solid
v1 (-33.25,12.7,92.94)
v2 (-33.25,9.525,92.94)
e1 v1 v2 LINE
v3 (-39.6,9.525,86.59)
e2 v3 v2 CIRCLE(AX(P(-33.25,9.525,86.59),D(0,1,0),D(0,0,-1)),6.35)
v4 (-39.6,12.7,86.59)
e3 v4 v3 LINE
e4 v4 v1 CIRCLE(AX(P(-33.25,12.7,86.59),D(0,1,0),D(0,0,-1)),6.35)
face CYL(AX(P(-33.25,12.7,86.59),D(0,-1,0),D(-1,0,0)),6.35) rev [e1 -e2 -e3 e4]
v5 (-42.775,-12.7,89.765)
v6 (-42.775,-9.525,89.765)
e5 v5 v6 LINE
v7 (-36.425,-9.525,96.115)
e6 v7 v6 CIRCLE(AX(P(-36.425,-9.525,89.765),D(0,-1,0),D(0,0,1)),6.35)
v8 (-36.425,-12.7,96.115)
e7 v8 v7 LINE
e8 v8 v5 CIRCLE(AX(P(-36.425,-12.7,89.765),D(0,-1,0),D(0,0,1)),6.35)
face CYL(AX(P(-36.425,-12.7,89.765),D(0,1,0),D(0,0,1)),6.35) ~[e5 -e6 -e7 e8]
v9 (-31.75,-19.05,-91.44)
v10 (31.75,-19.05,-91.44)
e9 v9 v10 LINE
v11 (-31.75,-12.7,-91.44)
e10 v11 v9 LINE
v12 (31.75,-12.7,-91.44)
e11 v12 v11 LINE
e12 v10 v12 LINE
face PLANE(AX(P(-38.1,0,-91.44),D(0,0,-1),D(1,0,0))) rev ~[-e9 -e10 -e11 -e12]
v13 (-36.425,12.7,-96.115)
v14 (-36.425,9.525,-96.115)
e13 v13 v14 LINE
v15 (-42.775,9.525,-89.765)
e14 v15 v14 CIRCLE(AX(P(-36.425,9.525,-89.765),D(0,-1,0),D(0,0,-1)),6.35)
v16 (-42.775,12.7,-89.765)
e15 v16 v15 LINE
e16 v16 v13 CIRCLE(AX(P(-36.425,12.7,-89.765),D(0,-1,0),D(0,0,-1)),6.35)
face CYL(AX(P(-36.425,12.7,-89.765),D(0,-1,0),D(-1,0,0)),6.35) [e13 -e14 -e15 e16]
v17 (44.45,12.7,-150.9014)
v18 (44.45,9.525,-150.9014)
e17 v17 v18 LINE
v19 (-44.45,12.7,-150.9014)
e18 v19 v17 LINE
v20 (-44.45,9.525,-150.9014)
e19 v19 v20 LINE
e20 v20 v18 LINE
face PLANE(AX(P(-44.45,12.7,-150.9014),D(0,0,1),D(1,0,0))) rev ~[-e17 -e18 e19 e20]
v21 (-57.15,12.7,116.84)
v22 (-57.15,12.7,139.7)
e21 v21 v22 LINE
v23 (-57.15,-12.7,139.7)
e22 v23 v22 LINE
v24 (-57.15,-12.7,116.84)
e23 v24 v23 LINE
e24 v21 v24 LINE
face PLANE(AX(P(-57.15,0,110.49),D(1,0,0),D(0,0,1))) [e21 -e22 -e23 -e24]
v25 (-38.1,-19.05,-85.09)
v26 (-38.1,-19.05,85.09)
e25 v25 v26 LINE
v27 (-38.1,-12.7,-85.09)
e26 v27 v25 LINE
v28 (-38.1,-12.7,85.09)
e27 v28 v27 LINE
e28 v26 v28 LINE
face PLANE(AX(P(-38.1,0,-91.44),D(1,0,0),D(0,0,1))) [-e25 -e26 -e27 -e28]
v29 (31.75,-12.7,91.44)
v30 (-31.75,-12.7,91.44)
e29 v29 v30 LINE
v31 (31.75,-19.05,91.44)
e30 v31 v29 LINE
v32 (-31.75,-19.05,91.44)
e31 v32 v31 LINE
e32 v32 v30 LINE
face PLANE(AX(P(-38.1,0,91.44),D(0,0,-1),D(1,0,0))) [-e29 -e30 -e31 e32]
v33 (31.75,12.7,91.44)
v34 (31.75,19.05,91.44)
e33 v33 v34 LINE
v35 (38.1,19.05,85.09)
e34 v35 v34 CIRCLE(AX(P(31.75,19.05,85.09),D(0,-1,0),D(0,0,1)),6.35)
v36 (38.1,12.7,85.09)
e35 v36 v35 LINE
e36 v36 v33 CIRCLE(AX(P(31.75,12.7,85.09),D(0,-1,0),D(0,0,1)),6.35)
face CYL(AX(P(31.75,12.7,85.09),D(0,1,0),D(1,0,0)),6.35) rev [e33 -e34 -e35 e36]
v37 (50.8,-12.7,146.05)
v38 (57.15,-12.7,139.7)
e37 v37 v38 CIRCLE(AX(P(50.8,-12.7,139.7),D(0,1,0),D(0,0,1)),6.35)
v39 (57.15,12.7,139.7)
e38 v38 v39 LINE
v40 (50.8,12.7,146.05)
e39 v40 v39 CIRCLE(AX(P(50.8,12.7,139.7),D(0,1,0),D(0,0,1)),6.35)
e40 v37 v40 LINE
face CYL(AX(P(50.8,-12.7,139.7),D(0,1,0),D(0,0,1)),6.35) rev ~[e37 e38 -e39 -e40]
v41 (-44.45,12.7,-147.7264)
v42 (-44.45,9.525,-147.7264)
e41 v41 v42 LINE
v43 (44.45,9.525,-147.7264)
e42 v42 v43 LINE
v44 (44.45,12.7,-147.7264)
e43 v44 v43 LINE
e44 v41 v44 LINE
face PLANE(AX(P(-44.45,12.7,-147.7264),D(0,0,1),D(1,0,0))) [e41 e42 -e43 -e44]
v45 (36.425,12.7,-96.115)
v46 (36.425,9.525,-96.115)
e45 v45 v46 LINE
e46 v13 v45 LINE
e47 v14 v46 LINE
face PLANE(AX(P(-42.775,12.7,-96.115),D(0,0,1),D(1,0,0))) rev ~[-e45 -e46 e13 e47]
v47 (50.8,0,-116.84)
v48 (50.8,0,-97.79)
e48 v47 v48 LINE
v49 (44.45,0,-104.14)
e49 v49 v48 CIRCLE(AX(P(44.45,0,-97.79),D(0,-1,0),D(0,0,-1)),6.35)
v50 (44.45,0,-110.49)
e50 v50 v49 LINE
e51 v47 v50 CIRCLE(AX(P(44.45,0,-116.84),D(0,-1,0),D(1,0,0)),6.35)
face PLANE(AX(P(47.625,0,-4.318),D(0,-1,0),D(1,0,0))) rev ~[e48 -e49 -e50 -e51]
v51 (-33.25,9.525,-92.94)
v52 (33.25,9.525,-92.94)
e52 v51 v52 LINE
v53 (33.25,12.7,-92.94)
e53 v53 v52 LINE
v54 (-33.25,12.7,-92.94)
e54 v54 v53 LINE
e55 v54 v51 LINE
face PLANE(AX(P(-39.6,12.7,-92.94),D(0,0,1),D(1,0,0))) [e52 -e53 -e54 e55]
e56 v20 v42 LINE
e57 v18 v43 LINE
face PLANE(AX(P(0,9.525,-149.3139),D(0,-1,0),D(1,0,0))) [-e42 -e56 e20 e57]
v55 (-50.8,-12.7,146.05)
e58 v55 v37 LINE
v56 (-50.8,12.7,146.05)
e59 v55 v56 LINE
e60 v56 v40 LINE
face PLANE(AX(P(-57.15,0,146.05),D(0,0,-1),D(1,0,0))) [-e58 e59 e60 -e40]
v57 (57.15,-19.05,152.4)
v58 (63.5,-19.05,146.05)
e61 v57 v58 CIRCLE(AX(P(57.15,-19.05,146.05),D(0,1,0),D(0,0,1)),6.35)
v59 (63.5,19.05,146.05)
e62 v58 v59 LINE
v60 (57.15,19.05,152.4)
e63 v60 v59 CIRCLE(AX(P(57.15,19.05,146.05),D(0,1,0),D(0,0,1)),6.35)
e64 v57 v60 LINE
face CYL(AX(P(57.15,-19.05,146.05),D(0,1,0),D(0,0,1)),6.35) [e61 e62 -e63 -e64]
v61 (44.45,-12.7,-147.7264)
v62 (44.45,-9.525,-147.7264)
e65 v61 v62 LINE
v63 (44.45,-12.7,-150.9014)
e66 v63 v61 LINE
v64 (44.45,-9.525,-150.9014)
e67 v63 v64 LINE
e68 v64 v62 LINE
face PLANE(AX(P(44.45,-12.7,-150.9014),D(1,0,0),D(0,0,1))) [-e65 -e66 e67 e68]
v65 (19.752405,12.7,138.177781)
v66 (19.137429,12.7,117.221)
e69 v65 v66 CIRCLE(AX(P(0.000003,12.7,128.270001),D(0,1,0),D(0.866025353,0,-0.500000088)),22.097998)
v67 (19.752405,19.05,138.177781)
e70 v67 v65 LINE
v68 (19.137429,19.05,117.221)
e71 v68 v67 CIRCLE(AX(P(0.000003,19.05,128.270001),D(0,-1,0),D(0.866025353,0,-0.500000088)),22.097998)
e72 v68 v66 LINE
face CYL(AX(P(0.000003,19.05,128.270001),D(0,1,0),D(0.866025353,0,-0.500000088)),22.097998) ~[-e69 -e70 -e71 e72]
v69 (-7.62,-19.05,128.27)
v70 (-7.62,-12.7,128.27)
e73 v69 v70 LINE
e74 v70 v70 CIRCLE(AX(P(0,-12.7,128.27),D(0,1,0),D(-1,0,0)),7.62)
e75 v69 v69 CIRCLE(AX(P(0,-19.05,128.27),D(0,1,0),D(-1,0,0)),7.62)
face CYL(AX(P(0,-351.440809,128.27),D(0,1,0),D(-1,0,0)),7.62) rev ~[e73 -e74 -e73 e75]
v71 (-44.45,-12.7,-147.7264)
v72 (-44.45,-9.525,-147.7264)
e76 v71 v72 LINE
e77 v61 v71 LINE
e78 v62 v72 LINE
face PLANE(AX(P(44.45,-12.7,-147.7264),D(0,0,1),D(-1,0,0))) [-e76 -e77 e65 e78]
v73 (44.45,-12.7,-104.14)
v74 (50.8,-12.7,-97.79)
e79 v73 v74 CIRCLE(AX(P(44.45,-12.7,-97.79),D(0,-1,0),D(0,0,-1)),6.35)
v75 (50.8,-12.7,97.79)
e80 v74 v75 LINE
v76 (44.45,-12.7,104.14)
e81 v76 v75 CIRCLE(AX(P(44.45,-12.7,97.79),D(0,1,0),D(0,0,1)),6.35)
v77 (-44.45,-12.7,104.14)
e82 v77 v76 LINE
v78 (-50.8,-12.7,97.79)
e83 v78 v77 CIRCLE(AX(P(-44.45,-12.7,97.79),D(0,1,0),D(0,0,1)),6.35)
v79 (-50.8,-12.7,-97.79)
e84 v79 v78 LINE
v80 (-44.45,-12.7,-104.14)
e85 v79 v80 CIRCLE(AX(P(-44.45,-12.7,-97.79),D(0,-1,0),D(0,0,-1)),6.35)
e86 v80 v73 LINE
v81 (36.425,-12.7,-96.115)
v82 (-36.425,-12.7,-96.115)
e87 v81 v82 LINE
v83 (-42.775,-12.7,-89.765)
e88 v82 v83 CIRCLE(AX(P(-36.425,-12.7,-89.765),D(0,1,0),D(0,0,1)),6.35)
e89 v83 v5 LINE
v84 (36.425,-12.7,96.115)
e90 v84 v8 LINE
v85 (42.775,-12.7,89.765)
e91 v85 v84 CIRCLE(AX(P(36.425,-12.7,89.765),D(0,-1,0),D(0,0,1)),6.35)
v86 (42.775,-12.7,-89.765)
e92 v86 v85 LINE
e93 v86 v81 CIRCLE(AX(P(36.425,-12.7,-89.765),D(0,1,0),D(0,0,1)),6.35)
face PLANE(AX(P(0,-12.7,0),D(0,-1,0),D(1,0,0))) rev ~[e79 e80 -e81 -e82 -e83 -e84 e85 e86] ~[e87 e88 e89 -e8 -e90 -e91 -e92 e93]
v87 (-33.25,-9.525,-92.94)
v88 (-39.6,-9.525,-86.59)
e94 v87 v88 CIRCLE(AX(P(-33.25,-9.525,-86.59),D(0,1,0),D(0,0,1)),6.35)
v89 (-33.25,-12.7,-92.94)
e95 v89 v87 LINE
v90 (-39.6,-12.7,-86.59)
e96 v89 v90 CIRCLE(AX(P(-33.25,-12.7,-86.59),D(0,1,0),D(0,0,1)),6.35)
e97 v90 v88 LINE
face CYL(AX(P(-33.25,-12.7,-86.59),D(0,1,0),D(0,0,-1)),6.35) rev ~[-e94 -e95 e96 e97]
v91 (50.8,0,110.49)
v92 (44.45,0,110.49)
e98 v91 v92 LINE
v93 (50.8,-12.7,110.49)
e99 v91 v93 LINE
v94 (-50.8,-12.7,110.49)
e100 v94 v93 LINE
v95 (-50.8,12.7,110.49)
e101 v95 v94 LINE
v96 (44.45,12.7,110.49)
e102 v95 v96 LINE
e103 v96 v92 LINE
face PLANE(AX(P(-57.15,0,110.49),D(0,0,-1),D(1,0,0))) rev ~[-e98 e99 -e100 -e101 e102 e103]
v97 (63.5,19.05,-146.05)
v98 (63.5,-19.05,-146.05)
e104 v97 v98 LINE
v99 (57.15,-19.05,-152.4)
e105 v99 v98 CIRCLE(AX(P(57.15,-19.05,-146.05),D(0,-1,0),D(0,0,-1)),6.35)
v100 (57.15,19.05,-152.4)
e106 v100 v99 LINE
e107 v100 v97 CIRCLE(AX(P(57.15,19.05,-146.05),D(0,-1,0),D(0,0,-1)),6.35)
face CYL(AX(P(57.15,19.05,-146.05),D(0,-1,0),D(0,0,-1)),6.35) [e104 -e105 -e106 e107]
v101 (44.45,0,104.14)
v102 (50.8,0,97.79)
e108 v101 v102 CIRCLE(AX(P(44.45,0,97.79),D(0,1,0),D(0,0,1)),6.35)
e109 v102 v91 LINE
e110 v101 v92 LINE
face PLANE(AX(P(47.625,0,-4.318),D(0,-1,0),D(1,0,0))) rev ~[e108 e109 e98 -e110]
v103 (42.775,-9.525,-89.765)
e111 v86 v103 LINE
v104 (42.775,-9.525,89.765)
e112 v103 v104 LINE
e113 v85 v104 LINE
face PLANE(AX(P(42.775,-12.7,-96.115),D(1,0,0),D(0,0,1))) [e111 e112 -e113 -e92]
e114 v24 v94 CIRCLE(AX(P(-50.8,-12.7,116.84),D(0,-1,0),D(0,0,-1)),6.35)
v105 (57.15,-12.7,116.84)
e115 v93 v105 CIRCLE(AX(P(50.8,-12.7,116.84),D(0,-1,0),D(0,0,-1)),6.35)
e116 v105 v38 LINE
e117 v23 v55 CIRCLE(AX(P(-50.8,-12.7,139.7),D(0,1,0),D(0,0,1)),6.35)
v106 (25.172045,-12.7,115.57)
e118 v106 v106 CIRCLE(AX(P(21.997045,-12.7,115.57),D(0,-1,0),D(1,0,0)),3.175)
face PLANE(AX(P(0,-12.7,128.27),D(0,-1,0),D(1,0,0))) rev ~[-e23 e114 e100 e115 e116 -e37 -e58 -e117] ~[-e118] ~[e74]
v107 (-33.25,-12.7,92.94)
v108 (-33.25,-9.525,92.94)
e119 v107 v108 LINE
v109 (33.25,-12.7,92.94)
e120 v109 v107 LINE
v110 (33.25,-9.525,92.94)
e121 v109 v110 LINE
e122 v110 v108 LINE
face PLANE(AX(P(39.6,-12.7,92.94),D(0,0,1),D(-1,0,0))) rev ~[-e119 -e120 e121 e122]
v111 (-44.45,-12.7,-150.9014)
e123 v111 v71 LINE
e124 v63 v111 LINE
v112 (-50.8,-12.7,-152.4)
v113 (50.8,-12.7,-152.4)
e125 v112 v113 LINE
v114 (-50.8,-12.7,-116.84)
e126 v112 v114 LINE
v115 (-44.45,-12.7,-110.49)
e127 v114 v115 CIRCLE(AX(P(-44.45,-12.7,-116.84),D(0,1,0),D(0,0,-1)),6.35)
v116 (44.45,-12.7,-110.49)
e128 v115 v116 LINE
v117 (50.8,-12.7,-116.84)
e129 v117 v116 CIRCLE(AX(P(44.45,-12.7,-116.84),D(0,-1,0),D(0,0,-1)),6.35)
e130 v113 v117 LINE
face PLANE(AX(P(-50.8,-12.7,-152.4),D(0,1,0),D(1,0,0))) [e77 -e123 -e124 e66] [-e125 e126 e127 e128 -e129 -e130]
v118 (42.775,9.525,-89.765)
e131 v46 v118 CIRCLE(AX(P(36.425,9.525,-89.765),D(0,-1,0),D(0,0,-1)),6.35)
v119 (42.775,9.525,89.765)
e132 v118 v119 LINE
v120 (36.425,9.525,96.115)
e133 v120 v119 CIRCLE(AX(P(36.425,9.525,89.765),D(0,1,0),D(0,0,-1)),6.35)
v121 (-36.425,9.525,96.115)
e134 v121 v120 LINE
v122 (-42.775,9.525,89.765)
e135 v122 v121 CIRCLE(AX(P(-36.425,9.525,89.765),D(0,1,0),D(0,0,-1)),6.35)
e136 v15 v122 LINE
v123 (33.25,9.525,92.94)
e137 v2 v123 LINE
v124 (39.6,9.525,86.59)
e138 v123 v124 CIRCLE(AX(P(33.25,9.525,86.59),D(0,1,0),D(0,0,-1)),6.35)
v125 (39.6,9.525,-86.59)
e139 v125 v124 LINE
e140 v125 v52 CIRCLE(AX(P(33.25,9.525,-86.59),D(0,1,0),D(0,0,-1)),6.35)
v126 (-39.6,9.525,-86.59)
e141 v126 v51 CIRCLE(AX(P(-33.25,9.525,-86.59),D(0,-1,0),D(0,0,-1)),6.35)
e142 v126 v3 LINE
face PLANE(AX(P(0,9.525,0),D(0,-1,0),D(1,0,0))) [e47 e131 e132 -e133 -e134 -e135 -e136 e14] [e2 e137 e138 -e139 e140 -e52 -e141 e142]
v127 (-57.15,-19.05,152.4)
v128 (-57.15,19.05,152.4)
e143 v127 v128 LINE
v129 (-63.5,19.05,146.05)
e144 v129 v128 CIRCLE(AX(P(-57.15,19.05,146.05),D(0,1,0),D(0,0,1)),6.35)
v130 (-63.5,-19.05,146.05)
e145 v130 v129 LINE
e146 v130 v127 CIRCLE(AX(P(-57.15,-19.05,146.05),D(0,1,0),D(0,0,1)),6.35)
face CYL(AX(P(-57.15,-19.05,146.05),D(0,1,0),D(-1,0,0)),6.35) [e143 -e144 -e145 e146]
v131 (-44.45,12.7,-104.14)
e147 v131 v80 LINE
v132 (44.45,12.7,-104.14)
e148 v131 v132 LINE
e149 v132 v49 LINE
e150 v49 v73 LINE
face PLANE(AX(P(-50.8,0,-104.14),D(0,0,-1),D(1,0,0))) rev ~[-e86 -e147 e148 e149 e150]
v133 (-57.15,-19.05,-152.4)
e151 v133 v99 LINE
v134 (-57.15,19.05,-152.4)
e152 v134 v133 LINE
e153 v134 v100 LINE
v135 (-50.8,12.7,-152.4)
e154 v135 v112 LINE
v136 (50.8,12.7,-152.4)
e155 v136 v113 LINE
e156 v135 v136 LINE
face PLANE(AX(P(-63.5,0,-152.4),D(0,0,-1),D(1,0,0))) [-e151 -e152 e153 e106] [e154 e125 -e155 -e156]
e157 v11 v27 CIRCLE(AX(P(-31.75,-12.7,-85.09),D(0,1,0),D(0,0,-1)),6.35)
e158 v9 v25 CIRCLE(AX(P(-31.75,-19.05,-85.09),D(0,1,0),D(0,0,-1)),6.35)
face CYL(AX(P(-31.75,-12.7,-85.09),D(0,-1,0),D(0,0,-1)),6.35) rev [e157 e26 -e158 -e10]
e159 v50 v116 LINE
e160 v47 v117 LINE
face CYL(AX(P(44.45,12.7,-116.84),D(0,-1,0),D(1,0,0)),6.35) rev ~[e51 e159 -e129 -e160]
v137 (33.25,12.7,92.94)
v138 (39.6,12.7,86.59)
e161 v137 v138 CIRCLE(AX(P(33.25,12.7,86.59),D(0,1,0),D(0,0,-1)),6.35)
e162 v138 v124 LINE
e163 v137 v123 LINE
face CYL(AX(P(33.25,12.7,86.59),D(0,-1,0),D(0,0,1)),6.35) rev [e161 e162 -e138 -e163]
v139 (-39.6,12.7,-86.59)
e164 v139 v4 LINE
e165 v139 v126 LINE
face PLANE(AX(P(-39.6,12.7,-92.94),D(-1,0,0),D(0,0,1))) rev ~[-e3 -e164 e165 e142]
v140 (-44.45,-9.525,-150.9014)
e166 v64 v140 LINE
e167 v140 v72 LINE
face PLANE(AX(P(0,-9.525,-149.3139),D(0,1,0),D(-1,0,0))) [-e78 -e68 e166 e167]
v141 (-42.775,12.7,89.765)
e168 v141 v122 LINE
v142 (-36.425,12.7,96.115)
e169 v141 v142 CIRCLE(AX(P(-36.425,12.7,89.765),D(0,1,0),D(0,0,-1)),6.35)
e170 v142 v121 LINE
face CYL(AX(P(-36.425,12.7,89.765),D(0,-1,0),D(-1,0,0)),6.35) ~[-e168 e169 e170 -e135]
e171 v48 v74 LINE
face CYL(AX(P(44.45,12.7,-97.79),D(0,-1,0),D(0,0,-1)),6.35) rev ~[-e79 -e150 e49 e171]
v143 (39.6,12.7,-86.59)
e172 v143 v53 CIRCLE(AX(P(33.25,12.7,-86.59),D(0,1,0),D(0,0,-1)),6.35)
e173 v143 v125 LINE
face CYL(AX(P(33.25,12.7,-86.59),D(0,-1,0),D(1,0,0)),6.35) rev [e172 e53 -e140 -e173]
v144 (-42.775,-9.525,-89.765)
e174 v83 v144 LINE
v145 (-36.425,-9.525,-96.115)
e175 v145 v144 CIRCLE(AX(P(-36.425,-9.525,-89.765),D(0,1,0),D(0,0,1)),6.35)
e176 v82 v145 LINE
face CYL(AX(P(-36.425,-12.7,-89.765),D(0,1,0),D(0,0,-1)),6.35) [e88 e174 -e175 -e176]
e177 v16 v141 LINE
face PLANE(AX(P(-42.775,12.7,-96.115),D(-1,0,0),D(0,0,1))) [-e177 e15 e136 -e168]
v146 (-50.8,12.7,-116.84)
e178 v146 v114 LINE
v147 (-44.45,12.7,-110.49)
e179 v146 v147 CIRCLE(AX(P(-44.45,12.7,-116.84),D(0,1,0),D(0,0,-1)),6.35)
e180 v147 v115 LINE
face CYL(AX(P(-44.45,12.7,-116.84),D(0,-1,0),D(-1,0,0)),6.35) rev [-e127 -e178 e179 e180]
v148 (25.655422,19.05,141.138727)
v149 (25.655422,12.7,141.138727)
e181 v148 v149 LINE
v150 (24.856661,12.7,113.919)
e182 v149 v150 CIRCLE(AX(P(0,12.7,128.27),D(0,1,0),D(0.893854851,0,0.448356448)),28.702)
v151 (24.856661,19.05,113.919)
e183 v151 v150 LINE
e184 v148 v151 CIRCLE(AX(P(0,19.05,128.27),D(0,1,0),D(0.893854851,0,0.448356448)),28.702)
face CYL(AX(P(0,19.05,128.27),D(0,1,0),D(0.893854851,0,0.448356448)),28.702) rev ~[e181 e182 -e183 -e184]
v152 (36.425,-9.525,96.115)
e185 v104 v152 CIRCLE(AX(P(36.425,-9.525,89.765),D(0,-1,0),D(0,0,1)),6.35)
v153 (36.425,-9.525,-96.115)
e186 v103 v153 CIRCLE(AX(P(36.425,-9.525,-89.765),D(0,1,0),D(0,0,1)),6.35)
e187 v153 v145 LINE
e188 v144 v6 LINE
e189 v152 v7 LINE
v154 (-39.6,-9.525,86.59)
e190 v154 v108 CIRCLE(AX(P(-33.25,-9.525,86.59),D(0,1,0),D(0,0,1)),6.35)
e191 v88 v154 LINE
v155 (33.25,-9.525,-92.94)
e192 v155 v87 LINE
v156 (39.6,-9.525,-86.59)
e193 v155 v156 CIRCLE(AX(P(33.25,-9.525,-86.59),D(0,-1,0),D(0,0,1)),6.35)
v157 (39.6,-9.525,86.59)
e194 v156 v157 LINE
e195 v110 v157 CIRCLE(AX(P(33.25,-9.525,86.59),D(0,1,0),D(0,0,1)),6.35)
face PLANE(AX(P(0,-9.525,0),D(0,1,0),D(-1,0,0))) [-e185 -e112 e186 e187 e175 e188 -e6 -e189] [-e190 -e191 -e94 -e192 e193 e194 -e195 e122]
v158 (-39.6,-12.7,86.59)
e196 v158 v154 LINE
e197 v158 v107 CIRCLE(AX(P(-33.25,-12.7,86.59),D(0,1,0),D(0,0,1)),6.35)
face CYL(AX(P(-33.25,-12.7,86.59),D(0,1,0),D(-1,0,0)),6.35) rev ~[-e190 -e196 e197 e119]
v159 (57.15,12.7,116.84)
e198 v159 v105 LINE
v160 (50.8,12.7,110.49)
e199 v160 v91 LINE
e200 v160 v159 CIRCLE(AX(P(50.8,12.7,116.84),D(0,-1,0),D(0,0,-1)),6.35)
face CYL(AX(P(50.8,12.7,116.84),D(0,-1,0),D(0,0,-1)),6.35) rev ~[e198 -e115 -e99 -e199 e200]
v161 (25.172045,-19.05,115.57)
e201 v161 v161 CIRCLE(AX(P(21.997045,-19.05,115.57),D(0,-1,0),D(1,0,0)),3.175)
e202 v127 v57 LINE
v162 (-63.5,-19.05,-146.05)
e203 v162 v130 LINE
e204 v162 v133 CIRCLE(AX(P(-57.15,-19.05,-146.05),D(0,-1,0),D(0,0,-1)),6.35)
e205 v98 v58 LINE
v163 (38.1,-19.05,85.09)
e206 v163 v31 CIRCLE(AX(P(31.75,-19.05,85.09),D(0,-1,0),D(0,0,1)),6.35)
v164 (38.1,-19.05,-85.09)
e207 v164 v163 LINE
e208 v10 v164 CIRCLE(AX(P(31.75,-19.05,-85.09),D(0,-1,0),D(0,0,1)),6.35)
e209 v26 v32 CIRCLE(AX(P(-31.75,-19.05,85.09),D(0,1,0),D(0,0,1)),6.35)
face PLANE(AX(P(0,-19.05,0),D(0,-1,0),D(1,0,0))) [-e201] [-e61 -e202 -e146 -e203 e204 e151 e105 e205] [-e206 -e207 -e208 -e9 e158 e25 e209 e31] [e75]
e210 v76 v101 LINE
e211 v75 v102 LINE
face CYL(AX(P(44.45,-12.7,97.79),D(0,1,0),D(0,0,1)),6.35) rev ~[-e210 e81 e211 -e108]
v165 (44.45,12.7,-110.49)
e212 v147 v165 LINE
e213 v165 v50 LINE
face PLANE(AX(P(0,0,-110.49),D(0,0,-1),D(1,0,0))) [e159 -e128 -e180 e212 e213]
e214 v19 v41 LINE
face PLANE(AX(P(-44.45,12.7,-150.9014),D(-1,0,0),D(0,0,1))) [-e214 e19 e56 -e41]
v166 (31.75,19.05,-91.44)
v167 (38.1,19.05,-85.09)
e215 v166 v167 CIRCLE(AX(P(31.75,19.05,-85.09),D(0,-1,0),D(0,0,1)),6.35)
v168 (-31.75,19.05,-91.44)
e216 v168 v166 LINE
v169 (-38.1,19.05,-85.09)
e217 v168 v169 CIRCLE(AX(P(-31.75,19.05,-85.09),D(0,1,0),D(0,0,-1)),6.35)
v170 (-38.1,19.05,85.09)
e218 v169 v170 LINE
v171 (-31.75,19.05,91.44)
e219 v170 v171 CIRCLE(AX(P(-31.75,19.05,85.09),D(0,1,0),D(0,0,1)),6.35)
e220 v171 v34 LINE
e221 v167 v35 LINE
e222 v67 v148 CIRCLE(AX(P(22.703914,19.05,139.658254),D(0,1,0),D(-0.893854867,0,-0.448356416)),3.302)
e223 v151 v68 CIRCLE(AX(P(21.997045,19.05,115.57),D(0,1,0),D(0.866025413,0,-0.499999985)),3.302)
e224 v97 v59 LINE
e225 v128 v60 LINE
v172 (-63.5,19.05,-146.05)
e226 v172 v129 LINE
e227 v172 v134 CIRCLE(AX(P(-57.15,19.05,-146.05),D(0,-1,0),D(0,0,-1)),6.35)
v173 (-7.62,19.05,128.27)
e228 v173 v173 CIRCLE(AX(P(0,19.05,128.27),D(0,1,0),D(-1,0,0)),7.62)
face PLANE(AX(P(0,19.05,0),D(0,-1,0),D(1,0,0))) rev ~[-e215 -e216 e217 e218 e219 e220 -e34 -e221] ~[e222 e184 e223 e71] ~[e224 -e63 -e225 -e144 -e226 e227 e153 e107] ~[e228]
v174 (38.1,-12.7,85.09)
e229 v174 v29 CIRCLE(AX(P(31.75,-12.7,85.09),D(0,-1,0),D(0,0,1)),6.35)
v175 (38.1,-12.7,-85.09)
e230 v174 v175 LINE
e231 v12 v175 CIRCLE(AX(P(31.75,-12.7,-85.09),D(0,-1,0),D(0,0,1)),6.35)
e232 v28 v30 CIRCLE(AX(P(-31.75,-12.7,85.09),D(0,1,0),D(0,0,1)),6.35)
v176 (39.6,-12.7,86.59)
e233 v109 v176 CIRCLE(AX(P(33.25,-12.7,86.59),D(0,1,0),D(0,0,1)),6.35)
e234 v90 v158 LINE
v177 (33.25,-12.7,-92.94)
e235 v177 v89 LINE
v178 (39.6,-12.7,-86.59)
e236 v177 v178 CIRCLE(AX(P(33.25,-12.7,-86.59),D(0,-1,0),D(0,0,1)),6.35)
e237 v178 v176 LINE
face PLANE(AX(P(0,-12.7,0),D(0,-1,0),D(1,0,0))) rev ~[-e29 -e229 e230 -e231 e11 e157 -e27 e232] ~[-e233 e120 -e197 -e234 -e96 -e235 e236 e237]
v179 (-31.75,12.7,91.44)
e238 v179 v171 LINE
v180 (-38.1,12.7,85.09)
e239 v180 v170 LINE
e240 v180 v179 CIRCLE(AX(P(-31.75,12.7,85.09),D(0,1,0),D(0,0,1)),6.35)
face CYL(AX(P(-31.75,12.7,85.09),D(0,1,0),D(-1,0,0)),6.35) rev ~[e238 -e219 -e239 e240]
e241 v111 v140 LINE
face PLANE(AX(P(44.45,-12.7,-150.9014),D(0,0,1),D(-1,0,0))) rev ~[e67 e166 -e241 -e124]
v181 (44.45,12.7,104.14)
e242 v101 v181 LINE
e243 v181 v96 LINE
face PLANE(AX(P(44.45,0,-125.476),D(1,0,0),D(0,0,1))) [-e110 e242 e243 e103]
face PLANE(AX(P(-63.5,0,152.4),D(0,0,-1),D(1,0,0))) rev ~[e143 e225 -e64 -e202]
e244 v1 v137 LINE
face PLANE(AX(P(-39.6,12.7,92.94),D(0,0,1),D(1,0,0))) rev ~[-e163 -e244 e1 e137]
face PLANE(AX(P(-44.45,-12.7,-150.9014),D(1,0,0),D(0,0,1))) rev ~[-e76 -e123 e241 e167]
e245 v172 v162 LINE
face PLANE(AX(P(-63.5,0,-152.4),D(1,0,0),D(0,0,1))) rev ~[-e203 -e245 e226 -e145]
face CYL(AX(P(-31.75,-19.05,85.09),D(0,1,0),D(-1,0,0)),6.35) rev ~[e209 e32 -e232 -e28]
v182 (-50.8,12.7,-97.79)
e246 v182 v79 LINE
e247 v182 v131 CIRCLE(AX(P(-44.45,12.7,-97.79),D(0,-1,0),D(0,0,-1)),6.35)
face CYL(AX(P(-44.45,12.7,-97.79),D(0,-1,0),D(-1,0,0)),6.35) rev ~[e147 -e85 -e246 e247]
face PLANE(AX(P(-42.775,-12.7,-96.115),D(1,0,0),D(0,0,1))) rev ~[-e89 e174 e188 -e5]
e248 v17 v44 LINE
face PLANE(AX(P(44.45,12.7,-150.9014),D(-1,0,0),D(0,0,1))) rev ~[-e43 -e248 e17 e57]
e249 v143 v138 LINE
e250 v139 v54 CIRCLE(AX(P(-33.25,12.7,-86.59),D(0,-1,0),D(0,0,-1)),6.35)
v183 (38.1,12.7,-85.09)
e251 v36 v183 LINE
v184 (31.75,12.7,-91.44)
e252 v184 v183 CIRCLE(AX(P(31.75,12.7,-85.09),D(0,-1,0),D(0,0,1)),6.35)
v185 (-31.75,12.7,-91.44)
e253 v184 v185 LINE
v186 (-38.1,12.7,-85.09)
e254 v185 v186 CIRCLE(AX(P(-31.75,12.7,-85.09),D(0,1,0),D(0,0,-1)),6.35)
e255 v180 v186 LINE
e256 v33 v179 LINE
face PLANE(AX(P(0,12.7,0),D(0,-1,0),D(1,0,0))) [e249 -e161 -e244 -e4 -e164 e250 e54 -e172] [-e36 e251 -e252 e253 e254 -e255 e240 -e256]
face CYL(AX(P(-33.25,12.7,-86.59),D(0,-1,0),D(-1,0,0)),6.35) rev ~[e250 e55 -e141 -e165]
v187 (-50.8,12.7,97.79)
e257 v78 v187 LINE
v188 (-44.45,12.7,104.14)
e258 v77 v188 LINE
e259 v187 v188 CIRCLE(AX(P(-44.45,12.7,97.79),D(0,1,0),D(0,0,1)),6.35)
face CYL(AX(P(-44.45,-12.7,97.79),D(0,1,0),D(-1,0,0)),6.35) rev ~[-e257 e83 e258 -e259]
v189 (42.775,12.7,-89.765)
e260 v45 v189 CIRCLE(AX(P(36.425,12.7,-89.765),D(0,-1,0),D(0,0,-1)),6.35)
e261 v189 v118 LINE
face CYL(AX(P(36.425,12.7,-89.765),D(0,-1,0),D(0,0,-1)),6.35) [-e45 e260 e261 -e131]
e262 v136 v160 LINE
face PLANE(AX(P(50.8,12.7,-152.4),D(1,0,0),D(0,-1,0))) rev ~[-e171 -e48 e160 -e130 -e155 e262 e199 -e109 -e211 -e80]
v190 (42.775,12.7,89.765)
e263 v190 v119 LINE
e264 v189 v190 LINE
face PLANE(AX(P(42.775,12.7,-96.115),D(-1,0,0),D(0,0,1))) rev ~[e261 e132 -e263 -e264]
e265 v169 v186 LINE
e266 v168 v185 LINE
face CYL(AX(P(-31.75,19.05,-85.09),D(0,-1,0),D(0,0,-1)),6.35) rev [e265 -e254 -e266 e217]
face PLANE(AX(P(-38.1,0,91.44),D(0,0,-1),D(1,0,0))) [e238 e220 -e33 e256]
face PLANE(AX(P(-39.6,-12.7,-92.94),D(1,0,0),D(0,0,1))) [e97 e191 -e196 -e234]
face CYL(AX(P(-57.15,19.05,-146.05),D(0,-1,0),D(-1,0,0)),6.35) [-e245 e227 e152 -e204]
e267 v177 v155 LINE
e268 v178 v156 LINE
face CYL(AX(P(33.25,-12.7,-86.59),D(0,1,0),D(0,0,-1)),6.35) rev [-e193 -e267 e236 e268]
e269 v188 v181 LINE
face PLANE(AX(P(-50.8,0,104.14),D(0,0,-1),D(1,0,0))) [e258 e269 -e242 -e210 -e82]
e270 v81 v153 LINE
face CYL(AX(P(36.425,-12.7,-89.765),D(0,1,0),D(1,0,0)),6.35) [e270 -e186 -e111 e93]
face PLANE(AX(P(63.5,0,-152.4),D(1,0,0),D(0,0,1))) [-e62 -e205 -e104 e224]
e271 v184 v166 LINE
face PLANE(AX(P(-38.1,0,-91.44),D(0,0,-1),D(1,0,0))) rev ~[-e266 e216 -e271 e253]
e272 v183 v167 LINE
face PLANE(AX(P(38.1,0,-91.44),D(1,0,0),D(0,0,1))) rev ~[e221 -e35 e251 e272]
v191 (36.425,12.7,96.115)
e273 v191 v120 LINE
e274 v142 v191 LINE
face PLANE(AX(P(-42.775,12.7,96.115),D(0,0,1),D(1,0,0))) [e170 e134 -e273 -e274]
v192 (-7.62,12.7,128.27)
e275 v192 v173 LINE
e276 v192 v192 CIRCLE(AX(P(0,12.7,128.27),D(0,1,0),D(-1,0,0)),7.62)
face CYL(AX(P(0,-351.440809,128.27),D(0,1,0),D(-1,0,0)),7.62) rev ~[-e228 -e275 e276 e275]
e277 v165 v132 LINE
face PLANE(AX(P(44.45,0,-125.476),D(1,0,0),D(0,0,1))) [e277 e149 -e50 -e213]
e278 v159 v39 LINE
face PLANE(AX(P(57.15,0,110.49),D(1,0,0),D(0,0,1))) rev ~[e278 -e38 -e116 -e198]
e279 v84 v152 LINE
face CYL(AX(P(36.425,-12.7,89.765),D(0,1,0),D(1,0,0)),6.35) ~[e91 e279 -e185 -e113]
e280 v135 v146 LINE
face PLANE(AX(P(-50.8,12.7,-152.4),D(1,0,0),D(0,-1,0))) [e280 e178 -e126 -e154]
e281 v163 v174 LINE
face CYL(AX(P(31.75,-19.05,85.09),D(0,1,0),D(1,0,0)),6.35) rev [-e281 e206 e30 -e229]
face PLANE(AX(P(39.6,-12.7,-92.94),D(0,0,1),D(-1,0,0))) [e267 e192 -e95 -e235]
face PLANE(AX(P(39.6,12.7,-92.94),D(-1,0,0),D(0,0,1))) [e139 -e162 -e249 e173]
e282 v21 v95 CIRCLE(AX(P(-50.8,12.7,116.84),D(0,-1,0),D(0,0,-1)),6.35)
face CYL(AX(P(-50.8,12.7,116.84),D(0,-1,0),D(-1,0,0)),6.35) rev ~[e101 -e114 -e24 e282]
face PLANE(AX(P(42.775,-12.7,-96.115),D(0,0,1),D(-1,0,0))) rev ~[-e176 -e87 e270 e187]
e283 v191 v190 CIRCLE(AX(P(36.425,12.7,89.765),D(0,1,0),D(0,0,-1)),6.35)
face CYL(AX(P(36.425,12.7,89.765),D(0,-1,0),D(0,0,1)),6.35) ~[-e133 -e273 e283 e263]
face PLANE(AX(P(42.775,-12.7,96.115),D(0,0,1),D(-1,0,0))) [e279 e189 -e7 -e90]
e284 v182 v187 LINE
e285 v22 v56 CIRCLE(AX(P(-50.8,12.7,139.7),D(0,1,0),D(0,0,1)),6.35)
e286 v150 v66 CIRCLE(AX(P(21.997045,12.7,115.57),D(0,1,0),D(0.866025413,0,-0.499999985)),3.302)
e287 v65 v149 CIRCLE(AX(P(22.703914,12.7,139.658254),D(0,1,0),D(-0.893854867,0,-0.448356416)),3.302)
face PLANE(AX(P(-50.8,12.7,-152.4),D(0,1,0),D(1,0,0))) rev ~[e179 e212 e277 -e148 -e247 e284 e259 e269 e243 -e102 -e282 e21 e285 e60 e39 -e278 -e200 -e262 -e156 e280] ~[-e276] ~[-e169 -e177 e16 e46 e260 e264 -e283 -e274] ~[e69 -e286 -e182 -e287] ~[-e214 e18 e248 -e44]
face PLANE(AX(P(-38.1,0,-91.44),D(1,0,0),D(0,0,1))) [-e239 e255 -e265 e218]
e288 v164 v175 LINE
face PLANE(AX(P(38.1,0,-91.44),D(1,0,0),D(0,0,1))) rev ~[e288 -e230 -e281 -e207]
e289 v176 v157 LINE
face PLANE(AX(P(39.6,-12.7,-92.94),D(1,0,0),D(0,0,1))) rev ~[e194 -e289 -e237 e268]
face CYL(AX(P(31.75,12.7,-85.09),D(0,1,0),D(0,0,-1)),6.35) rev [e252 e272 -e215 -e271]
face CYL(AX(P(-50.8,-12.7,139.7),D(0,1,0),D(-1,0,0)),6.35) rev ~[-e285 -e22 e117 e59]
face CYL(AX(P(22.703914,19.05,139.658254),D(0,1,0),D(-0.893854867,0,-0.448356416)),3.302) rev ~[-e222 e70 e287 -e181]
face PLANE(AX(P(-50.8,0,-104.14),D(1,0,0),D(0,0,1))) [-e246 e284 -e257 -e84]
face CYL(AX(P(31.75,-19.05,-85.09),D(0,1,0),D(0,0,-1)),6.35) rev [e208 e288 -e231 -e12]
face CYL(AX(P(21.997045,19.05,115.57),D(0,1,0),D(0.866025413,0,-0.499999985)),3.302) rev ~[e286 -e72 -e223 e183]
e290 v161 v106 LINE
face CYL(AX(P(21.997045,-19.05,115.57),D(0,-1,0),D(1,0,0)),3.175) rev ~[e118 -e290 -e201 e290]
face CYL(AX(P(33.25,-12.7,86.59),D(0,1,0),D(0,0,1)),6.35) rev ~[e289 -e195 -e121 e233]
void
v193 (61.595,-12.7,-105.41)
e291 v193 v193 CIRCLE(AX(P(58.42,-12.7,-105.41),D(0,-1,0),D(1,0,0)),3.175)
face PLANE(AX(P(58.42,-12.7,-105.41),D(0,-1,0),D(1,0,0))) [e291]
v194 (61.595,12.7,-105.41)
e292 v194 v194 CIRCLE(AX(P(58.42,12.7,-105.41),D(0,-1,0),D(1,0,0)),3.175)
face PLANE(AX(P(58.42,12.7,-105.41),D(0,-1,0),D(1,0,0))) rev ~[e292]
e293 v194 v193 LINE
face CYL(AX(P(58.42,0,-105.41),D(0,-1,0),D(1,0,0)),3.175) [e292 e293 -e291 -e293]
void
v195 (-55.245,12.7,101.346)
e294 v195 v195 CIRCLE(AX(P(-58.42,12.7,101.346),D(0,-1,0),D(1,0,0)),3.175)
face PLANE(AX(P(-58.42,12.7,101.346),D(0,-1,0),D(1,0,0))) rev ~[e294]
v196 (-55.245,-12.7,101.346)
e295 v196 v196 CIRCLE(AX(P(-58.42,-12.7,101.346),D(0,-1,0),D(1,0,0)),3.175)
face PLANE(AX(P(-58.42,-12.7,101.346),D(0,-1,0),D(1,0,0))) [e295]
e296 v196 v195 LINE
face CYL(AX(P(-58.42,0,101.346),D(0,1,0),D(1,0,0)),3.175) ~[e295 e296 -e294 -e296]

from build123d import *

# Parameters (mm, degrees)
F0_W      = 127
F0_H      = 304.8
F0_W_2    = 76.2
F0_H_2    = 182.88
F1_DEPTH  = 19.05
F2_W      = 101.6
F2_H      = 25.4
F3_DEPTH  = 41.91
F4_W      = 101.6
F4_H      = 208.28
F5_DEPTH  = 12.7
F6_W      = 114.3
F6_H      = 35.56
F7_DEPTH  = 12.7
F8_W      = 85.55
F8_H      = 192.23
F8_W_2    = 79.2
F8_H_2    = 185.88
F8_W_3    = 88.9
F8_H_3    = 3.175
F9_DEPTH  = 3.175
F10_W     = 85.55
F10_H     = 192.23
F10_W_2   = 79.2
F10_H_2   = 185.88
F10_W_3   = 88.9
F10_H_3   = 3.175
F11_DEPTH = 3.175
F13_D     = 15.24
F14_R     = 6.35
F15_W     = 6.35
F15_H     = 242.316
F16_DEPTH = 12.7
F18_DEPTH = 25.4
F19_R     = 3.175
F20_DEPTH = 12.7
F21_R     = 3.175
F22_DEPTH = 12.7


with BuildPart() as f1:
    # F0 (on Front) → F1 (new body, symmetric)
    with BuildSketch(Plane.XZ):
        Rectangle(F0_W, F0_H)
        Rectangle(F0_W_2, F0_H_2, mode=Mode.SUBTRACT)
    extrude(amount=F1_DEPTH, both=True)

    # F2 (on face) → F3 (cut)
    with BuildSketch(Plane(origin=(0, 0, -152.4), x_dir=(1, 0, 0), z_dir=(0, 0, -1))):
        Rectangle(F2_W, F2_H)
    extrude(amount=-F3_DEPTH, mode=Mode.SUBTRACT)

    # F4 (on Front) → F5 (cut, symmetric)
    with BuildSketch(Plane.XZ):
        Rectangle(F4_W, F4_H)
    extrude(amount=F5_DEPTH, both=True, mode=Mode.SUBTRACT)

    # F6 (on Front) → F7 (cut, symmetric)
    with BuildSketch(Plane.XZ):
        with Locations((0, 128.27)):
            Rectangle(F6_W, F6_H)
    extrude(amount=F7_DEPTH, both=True, mode=Mode.SUBTRACT)

    # F8 (on face) → F9 (join)
    with BuildSketch(Plane.XZ.offset(-12.7)):
        Rectangle(F8_W, F8_H)
        Rectangle(F8_W_2, F8_H_2, mode=Mode.SUBTRACT)
        with Locations((0, -149.3139)):
            Rectangle(F8_W_3, F8_H_3)
    extrude(amount=F9_DEPTH)

    # F10 (on face) → F11 (join)
    with BuildSketch(Plane(origin=(0, -12.7, 0), x_dir=(-1, 0, 0), z_dir=(0, 1, 0))):
        Rectangle(F10_W, F10_H)
        Rectangle(F10_W_2, F10_H_2, mode=Mode.SUBTRACT)
        with Locations((0, -149.3139)):
            Rectangle(F10_W_3, F10_H_3)
    extrude(amount=F11_DEPTH)

    # F13 (through all)
    with Locations(Plane.XZ.offset(19.05)):
        with Locations((0, 128.27)):
            Hole(F13_D / 2)

    # F14
    f14_edges = [f1.edges().sort_by_distance(p)[0] for p in [
        (-57.15, 0, 146.05),
        (-57.15, 0, 110.49),
        (57.15, 0, 110.49),
        (57.15, 0, 146.05),
        (-50.8, 0, 104.14),
        (50.8, 0, 104.14),
        (-50.8, 0, -110.49),
        (-50.8, 0, -104.14),
        (50.8, 0, -110.49),
        (50.8, 0, -104.14),
        (-42.775, -11.1125, 96.115),
        (-38.1, 15.875, 91.44),
        (-38.1, -15.875, 91.44),
        (-39.6, -11.1125, 92.94),
        (38.1, 15.875, 91.44),
        (38.1, -15.875, 91.44),
        (42.775, -11.1125, 96.115),
        (39.6, -11.1125, 92.94),
        (-39.6, 11.1125, 92.94),
        (-42.775, 11.1125, 96.115),
        (42.775, 11.1125, 96.115),
        (39.6, 11.1125, 92.94),
        (38.1, 15.875, -91.44),
        (38.1, -15.875, -91.44),
        (39.6, 11.1125, -92.94),
        (42.775, 11.1125, -96.115),
        (42.775, -11.1125, -96.115),
        (39.6, -11.1125, -92.94),
        (-39.6, 11.1125, -92.94),
        (-38.1, 15.875, -91.44),
        (-38.1, -15.875, -91.44),
        (-42.775, 11.1125, -96.115),
        (-39.6, -11.1125, -92.94),
        (-42.775, -11.1125, -96.115),
        (-63.5, 0, 152.4),
        (63.5, 0, 152.4),
        (-63.5, 0, -152.4),
        (63.5, 0, -152.4),
    ]]
    fillet(f14_edges, radius=F14_R)

    # F15 (on Front) → F16 (cut)
    with BuildSketch(Plane.XZ):
        with Locations((47.625, -4.318)):
            Rectangle(F15_W, F15_H)
    extrude(amount=-F16_DEPTH, mode=Mode.SUBTRACT)

    # F17 (on face) → F18 (cut)
    with BuildSketch(Plane(origin=(0, 19.05, 0), x_dir=(-1, 0, 0), z_dir=(0, 1, 0))):
        with BuildLine():
            ThreePointArc((-19.752405, 138.177781), (-21.22344, 142.609762), (-25.655422, 141.138727))
            ThreePointArc((-25.655422, 141.138727), (-28.68965, 127.428104), (-24.856661, 113.919))
            ThreePointArc((-24.856661, 113.919), (-20.346045, 112.710384), (-19.137429, 117.221))
            ThreePointArc((-19.137429, 117.221), (-22.088492, 127.621815), (-19.752405, 138.177781))
        make_face()
    extrude(amount=-F18_DEPTH, mode=Mode.SUBTRACT)

    # F19 (on face) → F20 (cut)
    with BuildSketch(Plane.XZ.offset(19.05)):
        with Locations((21.997045, 115.57)):
            Circle(F19_R)
    extrude(amount=-F20_DEPTH, mode=Mode.SUBTRACT)

    # F21 (on Front) → F22 (cut, symmetric)
    with BuildSketch(Plane.XZ):
        with Locations((-58.42, 101.346)):
            Circle(F21_R)
        with Locations((58.42, -105.41)):
            Circle(F21_R)
    extrude(amount=F22_DEPTH, both=True, mode=Mode.SUBTRACT)


solid = f1.part
